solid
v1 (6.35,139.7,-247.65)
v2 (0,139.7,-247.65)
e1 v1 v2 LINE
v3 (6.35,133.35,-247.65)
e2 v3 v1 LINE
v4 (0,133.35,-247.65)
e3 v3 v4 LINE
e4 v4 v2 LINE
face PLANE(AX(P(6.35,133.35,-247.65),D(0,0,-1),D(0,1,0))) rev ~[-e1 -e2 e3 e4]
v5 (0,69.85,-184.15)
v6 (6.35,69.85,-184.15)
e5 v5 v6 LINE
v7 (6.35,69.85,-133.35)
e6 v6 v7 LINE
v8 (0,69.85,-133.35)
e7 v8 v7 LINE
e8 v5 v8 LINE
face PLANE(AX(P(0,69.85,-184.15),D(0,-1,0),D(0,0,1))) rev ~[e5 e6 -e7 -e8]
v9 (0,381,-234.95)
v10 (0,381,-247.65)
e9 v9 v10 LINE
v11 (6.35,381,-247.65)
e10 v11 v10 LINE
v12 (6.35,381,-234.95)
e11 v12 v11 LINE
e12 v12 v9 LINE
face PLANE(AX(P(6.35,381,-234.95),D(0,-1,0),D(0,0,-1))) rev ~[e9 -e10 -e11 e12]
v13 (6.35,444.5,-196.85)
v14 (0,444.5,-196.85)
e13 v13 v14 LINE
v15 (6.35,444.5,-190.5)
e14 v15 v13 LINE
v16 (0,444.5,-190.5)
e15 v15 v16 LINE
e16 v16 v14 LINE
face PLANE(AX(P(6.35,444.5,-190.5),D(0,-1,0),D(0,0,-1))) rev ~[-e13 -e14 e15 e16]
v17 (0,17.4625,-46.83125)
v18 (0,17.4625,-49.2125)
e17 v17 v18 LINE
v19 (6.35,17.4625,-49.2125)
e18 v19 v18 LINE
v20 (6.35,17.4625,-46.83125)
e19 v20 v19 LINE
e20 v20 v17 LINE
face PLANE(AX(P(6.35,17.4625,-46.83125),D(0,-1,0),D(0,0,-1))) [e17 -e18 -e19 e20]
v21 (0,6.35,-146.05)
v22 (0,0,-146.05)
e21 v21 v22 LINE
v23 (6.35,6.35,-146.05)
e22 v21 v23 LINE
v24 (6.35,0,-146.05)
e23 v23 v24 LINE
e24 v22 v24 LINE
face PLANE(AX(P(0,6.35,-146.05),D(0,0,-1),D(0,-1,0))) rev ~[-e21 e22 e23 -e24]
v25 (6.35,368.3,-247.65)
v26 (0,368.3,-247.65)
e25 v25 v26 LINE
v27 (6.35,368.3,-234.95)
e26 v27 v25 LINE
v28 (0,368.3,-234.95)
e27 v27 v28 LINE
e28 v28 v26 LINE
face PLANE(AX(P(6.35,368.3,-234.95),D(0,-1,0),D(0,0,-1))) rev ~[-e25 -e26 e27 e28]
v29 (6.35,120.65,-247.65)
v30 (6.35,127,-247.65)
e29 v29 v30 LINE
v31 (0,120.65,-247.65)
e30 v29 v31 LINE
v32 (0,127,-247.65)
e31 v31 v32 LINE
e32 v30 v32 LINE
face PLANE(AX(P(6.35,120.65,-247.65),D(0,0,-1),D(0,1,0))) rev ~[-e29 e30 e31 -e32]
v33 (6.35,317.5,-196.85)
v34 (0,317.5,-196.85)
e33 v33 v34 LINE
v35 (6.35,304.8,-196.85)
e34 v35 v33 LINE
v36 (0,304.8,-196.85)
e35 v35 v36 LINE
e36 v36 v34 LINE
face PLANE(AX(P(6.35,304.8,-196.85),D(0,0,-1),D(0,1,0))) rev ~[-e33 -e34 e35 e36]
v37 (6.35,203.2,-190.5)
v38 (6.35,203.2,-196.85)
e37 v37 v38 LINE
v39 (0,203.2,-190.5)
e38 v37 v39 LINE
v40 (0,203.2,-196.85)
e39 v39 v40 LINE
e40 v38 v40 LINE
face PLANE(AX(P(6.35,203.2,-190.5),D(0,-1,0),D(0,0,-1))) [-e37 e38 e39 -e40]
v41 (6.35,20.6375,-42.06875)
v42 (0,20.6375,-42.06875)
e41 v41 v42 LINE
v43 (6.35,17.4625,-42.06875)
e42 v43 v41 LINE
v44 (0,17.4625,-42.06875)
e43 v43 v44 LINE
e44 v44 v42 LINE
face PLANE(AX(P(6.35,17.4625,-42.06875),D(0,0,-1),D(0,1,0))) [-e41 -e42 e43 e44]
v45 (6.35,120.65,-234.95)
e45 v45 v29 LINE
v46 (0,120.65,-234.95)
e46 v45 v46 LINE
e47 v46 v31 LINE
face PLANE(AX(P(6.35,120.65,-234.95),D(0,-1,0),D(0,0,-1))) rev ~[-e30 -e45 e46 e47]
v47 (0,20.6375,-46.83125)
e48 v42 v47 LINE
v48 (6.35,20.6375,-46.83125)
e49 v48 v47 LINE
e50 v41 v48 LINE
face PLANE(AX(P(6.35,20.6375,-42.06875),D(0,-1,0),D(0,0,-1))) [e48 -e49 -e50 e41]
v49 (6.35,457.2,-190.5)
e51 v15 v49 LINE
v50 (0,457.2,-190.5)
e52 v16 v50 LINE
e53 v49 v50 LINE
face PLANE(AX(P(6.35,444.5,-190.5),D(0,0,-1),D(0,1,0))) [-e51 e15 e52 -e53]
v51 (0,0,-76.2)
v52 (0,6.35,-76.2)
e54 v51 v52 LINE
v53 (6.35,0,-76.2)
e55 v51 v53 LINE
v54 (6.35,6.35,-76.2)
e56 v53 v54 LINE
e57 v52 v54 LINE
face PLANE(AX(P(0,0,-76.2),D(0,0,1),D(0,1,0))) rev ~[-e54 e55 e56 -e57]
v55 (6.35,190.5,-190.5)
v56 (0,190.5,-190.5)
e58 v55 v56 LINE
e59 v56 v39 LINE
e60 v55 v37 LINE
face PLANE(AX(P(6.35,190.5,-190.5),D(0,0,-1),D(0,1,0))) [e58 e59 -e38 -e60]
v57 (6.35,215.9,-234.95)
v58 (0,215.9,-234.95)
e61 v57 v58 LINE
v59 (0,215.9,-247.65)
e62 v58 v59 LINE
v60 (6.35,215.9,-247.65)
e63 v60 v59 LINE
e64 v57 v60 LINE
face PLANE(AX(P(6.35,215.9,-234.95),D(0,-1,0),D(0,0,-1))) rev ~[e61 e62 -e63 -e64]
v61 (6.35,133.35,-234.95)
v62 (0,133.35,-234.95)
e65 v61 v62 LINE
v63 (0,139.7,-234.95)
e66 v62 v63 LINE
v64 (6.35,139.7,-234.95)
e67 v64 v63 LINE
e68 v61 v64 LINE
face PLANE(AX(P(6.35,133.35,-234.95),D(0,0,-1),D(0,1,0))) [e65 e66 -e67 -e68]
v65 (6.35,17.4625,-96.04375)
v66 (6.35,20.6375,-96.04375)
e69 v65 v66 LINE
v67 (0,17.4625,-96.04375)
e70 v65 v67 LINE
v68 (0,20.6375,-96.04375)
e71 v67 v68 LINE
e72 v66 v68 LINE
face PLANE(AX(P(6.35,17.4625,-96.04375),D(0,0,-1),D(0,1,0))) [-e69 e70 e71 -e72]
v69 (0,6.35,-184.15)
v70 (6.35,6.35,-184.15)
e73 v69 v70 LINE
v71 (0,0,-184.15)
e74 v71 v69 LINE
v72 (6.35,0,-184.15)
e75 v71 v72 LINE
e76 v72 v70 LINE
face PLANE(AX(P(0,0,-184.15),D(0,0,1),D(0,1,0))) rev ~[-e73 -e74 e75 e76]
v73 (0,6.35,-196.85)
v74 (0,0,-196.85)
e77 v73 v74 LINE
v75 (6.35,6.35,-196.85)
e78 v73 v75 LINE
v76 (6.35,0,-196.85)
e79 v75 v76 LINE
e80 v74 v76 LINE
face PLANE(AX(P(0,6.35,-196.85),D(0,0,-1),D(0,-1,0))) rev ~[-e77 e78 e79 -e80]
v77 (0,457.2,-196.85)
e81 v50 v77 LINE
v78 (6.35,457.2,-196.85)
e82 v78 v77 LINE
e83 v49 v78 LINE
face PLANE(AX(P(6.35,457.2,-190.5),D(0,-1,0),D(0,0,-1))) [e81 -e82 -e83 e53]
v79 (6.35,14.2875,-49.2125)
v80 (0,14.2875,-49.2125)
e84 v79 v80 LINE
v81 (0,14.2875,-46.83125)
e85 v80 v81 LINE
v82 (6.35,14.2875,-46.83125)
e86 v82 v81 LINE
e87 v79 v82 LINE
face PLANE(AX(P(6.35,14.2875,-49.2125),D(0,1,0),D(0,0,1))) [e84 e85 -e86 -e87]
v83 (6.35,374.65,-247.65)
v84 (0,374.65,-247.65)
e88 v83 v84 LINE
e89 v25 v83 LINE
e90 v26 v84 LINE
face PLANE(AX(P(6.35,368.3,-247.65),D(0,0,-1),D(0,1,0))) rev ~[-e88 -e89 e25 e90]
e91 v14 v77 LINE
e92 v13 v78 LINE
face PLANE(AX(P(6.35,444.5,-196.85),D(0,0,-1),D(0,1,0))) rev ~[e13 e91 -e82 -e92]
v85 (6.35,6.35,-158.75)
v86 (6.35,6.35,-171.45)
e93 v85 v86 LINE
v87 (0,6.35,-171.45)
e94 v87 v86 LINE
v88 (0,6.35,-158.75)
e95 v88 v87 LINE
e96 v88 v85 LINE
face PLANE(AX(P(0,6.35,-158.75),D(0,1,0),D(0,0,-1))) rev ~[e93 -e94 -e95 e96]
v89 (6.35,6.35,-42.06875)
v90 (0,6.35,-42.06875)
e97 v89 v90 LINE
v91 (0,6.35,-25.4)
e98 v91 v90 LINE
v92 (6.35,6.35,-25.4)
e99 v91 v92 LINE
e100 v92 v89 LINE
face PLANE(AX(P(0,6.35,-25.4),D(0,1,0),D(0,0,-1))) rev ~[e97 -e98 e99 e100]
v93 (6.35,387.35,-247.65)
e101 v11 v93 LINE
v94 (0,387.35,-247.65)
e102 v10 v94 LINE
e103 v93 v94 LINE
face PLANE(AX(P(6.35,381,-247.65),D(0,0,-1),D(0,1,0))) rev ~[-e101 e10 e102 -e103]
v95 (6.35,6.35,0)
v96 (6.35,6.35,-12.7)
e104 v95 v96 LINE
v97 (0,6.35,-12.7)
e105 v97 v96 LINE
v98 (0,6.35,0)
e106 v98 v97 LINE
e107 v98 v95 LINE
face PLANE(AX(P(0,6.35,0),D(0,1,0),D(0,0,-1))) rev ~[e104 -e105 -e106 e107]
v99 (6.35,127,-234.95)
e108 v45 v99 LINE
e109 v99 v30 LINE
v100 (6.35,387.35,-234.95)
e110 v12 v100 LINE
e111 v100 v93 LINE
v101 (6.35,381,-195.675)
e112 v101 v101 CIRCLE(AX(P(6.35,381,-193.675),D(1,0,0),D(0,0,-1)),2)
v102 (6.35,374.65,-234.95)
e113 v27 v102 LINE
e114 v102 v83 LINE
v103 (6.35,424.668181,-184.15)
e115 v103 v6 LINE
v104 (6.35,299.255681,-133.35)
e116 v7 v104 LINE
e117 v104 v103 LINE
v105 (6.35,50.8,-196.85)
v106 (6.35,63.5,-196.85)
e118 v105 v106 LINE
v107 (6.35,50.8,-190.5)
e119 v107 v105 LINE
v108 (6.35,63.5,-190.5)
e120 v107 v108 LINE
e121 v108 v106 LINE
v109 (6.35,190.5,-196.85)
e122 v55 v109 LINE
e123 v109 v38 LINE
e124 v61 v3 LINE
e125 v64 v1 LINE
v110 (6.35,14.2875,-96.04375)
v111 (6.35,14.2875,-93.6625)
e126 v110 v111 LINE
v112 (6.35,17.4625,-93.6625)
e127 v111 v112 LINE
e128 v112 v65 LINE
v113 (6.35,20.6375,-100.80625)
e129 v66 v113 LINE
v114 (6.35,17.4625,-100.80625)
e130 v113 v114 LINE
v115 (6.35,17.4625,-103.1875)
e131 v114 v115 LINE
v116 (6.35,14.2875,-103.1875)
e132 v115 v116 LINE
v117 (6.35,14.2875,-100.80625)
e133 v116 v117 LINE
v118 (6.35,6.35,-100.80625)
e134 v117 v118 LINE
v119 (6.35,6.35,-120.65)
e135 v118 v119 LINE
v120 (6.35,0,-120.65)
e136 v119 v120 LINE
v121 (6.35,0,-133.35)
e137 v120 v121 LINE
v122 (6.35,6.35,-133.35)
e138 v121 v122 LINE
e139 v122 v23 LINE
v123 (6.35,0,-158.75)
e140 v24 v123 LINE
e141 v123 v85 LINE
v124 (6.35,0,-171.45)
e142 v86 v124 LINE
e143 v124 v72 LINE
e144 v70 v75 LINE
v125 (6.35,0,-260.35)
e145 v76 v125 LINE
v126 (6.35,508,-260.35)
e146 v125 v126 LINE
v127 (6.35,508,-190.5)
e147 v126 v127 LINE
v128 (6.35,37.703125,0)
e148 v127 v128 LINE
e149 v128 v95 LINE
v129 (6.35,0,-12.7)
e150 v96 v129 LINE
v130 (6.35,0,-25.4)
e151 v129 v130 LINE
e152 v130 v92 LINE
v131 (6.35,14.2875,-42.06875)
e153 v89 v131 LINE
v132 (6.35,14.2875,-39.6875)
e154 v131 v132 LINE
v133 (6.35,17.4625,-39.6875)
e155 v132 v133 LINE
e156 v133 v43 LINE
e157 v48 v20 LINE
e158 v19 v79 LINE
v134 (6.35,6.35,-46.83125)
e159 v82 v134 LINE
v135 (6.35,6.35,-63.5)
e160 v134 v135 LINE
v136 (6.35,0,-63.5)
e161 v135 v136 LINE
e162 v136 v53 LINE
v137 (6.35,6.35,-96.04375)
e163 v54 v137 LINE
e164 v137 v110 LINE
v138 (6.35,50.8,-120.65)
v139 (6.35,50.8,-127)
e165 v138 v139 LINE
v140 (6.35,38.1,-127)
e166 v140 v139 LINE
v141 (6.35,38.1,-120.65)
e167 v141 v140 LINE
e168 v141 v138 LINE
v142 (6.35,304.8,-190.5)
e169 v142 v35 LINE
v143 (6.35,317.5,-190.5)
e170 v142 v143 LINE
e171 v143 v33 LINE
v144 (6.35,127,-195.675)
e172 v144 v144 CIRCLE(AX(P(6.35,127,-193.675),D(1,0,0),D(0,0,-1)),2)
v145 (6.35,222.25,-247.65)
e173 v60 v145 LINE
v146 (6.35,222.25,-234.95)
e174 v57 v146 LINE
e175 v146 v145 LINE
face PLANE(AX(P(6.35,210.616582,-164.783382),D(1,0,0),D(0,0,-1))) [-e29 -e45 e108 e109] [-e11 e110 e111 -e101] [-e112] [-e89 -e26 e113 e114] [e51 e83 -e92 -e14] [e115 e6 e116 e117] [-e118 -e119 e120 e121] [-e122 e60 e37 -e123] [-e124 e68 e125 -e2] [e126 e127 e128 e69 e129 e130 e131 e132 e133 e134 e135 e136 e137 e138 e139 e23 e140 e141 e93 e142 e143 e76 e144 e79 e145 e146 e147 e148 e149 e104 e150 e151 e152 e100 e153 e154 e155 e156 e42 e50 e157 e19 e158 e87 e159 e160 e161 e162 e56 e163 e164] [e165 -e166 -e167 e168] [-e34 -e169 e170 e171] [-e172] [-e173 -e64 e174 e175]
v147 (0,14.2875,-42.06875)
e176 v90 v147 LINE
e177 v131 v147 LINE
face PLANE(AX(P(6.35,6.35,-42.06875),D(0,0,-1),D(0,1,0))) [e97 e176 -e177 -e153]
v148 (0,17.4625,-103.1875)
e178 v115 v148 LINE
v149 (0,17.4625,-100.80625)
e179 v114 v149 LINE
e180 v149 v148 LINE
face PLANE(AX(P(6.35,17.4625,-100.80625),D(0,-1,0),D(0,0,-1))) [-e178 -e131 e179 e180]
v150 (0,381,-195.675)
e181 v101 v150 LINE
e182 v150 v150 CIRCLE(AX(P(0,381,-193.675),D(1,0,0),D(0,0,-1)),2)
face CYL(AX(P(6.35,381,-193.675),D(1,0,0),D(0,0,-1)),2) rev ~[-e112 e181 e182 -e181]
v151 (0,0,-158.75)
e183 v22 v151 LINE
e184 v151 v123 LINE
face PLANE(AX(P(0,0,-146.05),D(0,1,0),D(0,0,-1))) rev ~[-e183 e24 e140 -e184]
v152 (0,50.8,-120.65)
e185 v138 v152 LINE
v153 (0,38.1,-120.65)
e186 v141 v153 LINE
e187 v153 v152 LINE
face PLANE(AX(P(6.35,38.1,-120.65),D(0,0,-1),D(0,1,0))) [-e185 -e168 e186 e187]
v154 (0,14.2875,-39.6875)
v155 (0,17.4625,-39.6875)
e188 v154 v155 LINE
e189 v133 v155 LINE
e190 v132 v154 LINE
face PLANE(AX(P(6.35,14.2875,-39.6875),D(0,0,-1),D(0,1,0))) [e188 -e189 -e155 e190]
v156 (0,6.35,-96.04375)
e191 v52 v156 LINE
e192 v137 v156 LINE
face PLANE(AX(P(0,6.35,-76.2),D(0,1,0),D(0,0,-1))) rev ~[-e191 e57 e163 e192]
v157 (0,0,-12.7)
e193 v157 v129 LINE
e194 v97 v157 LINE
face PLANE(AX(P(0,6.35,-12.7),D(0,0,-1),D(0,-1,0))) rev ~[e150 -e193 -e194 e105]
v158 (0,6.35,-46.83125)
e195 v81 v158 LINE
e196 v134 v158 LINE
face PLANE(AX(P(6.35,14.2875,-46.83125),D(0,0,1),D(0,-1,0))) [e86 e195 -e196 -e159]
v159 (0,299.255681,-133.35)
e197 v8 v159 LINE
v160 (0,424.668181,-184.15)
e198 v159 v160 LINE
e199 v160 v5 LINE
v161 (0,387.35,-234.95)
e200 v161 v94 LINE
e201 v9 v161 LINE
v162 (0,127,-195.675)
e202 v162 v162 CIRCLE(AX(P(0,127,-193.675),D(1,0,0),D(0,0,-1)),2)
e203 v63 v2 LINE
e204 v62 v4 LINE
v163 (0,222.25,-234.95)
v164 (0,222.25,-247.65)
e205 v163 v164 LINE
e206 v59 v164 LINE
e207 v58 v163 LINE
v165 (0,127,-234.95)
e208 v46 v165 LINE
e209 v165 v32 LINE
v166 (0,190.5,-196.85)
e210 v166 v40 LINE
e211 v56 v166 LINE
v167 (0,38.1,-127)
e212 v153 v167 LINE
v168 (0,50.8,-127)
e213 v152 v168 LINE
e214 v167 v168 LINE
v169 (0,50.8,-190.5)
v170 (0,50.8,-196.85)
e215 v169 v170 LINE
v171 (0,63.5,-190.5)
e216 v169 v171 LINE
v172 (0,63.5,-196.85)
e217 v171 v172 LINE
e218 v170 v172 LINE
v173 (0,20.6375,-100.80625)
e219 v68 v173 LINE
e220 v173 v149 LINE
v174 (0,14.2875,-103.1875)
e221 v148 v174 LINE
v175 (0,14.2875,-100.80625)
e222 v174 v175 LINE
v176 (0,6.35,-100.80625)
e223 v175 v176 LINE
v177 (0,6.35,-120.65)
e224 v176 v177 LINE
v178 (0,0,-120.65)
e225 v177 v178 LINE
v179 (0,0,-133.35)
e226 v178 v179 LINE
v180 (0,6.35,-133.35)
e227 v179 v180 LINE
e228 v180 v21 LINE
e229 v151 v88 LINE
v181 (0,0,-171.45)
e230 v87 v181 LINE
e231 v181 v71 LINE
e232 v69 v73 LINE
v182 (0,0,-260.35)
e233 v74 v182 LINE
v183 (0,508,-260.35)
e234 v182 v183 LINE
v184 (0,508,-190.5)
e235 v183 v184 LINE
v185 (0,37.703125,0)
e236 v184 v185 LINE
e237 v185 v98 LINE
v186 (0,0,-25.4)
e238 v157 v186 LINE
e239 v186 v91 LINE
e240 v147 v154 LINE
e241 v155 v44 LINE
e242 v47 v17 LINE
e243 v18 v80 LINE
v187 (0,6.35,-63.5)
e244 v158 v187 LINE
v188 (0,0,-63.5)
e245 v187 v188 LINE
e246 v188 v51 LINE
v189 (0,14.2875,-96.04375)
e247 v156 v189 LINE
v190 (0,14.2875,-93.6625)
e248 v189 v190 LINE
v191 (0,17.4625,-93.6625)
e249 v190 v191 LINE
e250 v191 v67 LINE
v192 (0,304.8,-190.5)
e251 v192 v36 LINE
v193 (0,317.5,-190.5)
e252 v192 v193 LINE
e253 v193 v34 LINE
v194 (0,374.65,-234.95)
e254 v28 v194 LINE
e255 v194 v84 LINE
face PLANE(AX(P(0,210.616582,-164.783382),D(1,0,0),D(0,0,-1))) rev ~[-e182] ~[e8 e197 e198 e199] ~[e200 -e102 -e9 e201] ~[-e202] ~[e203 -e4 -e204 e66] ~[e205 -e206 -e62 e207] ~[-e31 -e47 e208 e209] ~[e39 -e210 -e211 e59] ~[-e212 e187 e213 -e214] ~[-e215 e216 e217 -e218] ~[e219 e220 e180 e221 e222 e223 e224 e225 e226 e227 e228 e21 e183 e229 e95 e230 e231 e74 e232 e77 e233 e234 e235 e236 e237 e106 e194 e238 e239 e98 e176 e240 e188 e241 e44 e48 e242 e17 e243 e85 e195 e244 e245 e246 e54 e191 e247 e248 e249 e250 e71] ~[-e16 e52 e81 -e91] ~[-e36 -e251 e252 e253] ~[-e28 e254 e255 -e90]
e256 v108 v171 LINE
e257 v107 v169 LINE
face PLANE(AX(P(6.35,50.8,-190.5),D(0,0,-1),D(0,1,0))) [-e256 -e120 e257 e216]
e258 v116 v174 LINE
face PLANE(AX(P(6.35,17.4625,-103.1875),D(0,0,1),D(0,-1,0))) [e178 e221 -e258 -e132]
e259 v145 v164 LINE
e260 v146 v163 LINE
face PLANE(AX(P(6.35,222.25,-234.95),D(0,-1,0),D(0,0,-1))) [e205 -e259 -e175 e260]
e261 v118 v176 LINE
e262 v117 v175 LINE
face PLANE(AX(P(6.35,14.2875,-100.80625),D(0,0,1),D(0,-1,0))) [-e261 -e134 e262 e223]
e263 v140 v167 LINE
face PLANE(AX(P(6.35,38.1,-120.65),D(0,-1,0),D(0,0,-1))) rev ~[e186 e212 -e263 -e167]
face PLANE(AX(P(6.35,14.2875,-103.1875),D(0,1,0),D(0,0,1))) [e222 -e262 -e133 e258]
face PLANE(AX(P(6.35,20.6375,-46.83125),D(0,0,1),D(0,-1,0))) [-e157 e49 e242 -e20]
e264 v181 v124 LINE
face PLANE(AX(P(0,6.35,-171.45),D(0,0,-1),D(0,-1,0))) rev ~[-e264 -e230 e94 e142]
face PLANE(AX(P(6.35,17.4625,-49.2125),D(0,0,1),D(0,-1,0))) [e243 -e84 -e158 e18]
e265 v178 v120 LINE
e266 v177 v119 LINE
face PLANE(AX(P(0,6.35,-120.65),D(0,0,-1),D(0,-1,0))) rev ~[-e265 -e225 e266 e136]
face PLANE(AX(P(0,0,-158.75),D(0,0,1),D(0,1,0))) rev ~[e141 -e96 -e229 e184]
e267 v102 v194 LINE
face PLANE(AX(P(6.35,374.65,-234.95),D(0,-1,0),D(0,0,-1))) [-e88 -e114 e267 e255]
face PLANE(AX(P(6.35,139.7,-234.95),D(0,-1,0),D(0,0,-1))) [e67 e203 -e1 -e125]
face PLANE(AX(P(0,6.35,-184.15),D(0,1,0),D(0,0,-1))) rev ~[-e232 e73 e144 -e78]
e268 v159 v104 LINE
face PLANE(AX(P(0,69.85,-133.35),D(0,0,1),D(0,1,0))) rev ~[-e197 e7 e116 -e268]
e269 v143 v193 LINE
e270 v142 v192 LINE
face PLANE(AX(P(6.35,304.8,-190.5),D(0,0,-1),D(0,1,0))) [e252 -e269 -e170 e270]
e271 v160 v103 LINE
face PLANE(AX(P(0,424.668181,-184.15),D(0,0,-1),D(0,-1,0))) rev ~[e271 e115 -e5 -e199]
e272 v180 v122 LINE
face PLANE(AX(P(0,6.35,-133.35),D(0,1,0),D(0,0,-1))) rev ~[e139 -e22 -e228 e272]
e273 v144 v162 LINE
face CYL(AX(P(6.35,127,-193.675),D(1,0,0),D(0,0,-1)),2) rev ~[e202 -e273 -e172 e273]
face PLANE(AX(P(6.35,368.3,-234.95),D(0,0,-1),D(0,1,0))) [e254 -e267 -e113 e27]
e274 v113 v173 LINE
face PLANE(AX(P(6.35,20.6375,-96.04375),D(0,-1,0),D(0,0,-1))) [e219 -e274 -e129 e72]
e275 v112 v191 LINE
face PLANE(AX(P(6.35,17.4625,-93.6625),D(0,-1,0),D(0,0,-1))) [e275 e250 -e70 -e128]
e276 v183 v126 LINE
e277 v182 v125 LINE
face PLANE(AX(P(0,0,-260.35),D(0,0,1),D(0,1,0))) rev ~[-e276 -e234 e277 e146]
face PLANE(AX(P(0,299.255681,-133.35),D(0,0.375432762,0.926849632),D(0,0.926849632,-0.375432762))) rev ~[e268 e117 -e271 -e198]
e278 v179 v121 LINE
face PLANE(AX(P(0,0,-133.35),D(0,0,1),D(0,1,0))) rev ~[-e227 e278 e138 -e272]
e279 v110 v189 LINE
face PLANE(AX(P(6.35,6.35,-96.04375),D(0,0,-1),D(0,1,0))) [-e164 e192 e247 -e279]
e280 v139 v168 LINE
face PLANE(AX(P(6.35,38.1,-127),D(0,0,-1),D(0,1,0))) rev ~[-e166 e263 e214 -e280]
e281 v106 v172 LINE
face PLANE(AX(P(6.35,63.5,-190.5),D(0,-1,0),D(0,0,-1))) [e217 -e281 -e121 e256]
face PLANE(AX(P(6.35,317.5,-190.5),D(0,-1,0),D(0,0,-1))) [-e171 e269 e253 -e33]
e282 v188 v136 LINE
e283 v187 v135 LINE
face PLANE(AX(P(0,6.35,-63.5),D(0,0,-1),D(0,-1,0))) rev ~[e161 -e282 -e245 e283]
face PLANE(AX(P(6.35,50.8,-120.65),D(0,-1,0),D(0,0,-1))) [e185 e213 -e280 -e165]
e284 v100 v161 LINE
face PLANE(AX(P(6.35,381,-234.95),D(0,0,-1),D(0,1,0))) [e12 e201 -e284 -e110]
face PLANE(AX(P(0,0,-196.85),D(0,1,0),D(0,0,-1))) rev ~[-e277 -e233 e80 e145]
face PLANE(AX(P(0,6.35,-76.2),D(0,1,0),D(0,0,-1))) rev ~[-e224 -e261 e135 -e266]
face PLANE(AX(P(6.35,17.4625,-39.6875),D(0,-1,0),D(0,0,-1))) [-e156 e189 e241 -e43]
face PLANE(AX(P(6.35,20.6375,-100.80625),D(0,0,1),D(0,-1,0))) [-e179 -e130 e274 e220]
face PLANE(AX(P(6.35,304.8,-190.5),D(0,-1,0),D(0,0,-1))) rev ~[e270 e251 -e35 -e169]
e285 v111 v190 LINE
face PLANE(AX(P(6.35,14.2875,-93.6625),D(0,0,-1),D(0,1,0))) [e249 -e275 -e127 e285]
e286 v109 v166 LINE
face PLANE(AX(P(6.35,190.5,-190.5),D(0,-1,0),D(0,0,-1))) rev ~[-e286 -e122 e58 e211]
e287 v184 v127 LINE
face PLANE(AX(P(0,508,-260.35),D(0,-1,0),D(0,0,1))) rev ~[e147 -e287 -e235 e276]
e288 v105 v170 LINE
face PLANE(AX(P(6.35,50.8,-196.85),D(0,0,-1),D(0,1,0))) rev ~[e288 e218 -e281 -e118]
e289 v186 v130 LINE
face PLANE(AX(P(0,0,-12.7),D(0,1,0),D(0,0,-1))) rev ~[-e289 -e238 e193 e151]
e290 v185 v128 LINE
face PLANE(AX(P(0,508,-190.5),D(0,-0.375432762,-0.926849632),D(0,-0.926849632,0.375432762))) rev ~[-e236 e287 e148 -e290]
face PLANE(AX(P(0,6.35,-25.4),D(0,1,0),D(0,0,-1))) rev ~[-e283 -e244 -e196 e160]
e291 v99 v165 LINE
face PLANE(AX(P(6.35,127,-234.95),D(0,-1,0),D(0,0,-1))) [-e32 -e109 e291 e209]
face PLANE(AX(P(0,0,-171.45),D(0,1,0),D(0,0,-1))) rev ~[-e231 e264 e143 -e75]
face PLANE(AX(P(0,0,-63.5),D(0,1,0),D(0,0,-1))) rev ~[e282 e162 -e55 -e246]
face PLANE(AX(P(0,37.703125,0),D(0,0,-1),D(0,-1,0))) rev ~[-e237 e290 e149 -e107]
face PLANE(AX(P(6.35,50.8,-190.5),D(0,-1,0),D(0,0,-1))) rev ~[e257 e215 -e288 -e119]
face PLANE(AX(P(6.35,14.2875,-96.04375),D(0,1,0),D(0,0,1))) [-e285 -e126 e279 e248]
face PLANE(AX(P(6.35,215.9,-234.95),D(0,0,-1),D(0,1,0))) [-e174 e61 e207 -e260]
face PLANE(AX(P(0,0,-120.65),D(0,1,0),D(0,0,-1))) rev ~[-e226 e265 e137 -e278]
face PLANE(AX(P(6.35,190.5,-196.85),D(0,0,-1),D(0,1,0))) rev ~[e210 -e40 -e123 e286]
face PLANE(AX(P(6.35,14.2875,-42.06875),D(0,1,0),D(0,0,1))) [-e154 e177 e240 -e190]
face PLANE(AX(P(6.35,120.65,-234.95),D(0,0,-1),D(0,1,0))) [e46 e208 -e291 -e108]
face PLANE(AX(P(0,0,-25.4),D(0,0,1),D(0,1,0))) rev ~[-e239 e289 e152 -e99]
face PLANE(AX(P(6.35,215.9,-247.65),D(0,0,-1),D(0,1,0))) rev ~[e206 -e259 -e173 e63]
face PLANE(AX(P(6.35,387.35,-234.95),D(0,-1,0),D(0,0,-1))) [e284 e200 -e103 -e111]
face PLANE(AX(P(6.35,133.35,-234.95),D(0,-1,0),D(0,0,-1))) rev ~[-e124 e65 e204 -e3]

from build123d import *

# Parameters (mm, degrees)
BOSS_EXTRUDE1_DEPTH = 6.35
CUT_EXTRUDE1_DEPTH  = 6.35
SKETCH5_R           = 2
SKETCH5_W           = 6.35
SKETCH5_H           = 12.7
SKETCH5_W_2         = 12.7
SKETCH5_H_2         = 6.35
CUT_EXTRUDE2_DEPTH  = 6.35
SKETCH6_W           = 6.35
SKETCH6_H           = 12.7
CUT_EXTRUDE3_DEPTH  = 6.35
SKETCH7_W           = 12.7
SKETCH7_H           = 6.35
CUT_EXTRUDE4_DEPTH  = 6.35


with BuildPart() as part:
    # Sketch1 → Boss-Extrude1 (new body)
    with BuildSketch(Plane(origin=(0, 0, 0), x_dir=(0, 0, -1), z_dir=(1, 0, 0))):
        Polygon((12.7, 6.35), (12.7, 0), (25.4, 0), (25.4, 6.35), (63.5, 6.35), (63.5, 0), (76.2, 0), (76.2, 6.35), (120.65, 6.35), (120.65, 0), (133.35, 0), (133.35, 6.35), (146.05, 6.35), (146.05, 0), (158.75, 0), (158.75, 6.35), (171.45, 6.35), (171.45, 0), (176.749457482, 0), (184.15, 0), (184.15, 6.35), (196.85, 6.35), (196.85, 0), (260.35, 0), (260.35, 508), (190.5, 508), (0, 37.703125), (0, 6.35), align=None)
        Polygon((133.35, 299.255680579), (184.15, 424.668180579), (184.15, 69.85), (133.35, 69.85), (133.35, 274.095300459), align=None, mode=Mode.SUBTRACT)
    extrude(amount=BOSS_EXTRUDE1_DEPTH)

    # Sketch3 → Cut-Extrude1 (cut)
    with BuildSketch(Plane(origin=(6.35, 0, 0), x_dir=(0, 0, -1), z_dir=(1, 0, 0))):
        Polygon((49.2125, 17.4625), (49.2125, 14.2875), (46.83125, 14.2875), (46.83125, 6.35), (42.06875, 6.35), (42.06875, 14.2875), (39.6875, 14.2875), (39.6875, 17.4625), (42.06875, 17.4625), (42.06875, 20.6375), (46.83125, 20.6375), (46.83125, 17.4625), align=None)
        Polygon((103.1875, 17.4625), (103.1875, 14.2875), (100.80625, 14.2875), (100.80625, 6.35), (96.04375, 6.35), (96.04375, 14.2875), (93.6625, 14.2875), (93.6625, 17.4625), (96.04375, 17.4625), (96.04375, 20.6375), (100.80625, 20.6375), (100.80625, 17.4625), align=None)
    extrude(amount=-CUT_EXTRUDE1_DEPTH, mode=Mode.SUBTRACT)

    # Sketch5 → Cut-Extrude2 (cut)
    with BuildSketch(Plane(origin=(6.35, 0, 0), x_dir=(0, 0, -1), z_dir=(1, 0, 0))):
        with Locations((193.675, 127)):
            Circle(SKETCH5_R)
        with Locations((193.675, 381)):
            Circle(SKETCH5_R)
        with Locations((193.675, 57.15)):
            Rectangle(SKETCH5_W, SKETCH5_H)
        with Locations((193.675, 196.85)):
            Rectangle(SKETCH5_W, SKETCH5_H)
        with Locations((241.3, 371.475)):
            Rectangle(SKETCH5_W_2, SKETCH5_H_2)
        with Locations((241.3, 123.825)):
            Rectangle(SKETCH5_W_2, SKETCH5_H_2)
        with Locations((241.3, 136.525)):
            Rectangle(SKETCH5_W_2, SKETCH5_H_2)
        with Locations((241.3, 384.175)):
            Rectangle(SKETCH5_W_2, SKETCH5_H_2)
        with Locations((193.675, 311.15)):
            Rectangle(SKETCH5_W, SKETCH5_H)
        with Locations((193.675, 450.85)):
            Rectangle(SKETCH5_W, SKETCH5_H)
    extrude(amount=-CUT_EXTRUDE2_DEPTH, mode=Mode.SUBTRACT)

    # Sketch6 → Cut-Extrude3 (cut)
    with BuildSketch(Plane(origin=(6.35, 0, 0), x_dir=(0, 0, -1), z_dir=(1, 0, 0))):
        with Locations((123.825, 44.45)):
            Rectangle(SKETCH6_W, SKETCH6_H)
    extrude(amount=-CUT_EXTRUDE3_DEPTH, mode=Mode.SUBTRACT)

    # Sketch7 → Cut-Extrude4 (cut)
    with BuildSketch(Plane(origin=(6.35, 0, 0), x_dir=(0, 0, -1), z_dir=(1, 0, 0))):
        with Locations((241.3, 219.075)):
            Rectangle(SKETCH7_W, SKETCH7_H)
    extrude(amount=-CUT_EXTRUDE4_DEPTH, mode=Mode.SUBTRACT)


solid = part.part
